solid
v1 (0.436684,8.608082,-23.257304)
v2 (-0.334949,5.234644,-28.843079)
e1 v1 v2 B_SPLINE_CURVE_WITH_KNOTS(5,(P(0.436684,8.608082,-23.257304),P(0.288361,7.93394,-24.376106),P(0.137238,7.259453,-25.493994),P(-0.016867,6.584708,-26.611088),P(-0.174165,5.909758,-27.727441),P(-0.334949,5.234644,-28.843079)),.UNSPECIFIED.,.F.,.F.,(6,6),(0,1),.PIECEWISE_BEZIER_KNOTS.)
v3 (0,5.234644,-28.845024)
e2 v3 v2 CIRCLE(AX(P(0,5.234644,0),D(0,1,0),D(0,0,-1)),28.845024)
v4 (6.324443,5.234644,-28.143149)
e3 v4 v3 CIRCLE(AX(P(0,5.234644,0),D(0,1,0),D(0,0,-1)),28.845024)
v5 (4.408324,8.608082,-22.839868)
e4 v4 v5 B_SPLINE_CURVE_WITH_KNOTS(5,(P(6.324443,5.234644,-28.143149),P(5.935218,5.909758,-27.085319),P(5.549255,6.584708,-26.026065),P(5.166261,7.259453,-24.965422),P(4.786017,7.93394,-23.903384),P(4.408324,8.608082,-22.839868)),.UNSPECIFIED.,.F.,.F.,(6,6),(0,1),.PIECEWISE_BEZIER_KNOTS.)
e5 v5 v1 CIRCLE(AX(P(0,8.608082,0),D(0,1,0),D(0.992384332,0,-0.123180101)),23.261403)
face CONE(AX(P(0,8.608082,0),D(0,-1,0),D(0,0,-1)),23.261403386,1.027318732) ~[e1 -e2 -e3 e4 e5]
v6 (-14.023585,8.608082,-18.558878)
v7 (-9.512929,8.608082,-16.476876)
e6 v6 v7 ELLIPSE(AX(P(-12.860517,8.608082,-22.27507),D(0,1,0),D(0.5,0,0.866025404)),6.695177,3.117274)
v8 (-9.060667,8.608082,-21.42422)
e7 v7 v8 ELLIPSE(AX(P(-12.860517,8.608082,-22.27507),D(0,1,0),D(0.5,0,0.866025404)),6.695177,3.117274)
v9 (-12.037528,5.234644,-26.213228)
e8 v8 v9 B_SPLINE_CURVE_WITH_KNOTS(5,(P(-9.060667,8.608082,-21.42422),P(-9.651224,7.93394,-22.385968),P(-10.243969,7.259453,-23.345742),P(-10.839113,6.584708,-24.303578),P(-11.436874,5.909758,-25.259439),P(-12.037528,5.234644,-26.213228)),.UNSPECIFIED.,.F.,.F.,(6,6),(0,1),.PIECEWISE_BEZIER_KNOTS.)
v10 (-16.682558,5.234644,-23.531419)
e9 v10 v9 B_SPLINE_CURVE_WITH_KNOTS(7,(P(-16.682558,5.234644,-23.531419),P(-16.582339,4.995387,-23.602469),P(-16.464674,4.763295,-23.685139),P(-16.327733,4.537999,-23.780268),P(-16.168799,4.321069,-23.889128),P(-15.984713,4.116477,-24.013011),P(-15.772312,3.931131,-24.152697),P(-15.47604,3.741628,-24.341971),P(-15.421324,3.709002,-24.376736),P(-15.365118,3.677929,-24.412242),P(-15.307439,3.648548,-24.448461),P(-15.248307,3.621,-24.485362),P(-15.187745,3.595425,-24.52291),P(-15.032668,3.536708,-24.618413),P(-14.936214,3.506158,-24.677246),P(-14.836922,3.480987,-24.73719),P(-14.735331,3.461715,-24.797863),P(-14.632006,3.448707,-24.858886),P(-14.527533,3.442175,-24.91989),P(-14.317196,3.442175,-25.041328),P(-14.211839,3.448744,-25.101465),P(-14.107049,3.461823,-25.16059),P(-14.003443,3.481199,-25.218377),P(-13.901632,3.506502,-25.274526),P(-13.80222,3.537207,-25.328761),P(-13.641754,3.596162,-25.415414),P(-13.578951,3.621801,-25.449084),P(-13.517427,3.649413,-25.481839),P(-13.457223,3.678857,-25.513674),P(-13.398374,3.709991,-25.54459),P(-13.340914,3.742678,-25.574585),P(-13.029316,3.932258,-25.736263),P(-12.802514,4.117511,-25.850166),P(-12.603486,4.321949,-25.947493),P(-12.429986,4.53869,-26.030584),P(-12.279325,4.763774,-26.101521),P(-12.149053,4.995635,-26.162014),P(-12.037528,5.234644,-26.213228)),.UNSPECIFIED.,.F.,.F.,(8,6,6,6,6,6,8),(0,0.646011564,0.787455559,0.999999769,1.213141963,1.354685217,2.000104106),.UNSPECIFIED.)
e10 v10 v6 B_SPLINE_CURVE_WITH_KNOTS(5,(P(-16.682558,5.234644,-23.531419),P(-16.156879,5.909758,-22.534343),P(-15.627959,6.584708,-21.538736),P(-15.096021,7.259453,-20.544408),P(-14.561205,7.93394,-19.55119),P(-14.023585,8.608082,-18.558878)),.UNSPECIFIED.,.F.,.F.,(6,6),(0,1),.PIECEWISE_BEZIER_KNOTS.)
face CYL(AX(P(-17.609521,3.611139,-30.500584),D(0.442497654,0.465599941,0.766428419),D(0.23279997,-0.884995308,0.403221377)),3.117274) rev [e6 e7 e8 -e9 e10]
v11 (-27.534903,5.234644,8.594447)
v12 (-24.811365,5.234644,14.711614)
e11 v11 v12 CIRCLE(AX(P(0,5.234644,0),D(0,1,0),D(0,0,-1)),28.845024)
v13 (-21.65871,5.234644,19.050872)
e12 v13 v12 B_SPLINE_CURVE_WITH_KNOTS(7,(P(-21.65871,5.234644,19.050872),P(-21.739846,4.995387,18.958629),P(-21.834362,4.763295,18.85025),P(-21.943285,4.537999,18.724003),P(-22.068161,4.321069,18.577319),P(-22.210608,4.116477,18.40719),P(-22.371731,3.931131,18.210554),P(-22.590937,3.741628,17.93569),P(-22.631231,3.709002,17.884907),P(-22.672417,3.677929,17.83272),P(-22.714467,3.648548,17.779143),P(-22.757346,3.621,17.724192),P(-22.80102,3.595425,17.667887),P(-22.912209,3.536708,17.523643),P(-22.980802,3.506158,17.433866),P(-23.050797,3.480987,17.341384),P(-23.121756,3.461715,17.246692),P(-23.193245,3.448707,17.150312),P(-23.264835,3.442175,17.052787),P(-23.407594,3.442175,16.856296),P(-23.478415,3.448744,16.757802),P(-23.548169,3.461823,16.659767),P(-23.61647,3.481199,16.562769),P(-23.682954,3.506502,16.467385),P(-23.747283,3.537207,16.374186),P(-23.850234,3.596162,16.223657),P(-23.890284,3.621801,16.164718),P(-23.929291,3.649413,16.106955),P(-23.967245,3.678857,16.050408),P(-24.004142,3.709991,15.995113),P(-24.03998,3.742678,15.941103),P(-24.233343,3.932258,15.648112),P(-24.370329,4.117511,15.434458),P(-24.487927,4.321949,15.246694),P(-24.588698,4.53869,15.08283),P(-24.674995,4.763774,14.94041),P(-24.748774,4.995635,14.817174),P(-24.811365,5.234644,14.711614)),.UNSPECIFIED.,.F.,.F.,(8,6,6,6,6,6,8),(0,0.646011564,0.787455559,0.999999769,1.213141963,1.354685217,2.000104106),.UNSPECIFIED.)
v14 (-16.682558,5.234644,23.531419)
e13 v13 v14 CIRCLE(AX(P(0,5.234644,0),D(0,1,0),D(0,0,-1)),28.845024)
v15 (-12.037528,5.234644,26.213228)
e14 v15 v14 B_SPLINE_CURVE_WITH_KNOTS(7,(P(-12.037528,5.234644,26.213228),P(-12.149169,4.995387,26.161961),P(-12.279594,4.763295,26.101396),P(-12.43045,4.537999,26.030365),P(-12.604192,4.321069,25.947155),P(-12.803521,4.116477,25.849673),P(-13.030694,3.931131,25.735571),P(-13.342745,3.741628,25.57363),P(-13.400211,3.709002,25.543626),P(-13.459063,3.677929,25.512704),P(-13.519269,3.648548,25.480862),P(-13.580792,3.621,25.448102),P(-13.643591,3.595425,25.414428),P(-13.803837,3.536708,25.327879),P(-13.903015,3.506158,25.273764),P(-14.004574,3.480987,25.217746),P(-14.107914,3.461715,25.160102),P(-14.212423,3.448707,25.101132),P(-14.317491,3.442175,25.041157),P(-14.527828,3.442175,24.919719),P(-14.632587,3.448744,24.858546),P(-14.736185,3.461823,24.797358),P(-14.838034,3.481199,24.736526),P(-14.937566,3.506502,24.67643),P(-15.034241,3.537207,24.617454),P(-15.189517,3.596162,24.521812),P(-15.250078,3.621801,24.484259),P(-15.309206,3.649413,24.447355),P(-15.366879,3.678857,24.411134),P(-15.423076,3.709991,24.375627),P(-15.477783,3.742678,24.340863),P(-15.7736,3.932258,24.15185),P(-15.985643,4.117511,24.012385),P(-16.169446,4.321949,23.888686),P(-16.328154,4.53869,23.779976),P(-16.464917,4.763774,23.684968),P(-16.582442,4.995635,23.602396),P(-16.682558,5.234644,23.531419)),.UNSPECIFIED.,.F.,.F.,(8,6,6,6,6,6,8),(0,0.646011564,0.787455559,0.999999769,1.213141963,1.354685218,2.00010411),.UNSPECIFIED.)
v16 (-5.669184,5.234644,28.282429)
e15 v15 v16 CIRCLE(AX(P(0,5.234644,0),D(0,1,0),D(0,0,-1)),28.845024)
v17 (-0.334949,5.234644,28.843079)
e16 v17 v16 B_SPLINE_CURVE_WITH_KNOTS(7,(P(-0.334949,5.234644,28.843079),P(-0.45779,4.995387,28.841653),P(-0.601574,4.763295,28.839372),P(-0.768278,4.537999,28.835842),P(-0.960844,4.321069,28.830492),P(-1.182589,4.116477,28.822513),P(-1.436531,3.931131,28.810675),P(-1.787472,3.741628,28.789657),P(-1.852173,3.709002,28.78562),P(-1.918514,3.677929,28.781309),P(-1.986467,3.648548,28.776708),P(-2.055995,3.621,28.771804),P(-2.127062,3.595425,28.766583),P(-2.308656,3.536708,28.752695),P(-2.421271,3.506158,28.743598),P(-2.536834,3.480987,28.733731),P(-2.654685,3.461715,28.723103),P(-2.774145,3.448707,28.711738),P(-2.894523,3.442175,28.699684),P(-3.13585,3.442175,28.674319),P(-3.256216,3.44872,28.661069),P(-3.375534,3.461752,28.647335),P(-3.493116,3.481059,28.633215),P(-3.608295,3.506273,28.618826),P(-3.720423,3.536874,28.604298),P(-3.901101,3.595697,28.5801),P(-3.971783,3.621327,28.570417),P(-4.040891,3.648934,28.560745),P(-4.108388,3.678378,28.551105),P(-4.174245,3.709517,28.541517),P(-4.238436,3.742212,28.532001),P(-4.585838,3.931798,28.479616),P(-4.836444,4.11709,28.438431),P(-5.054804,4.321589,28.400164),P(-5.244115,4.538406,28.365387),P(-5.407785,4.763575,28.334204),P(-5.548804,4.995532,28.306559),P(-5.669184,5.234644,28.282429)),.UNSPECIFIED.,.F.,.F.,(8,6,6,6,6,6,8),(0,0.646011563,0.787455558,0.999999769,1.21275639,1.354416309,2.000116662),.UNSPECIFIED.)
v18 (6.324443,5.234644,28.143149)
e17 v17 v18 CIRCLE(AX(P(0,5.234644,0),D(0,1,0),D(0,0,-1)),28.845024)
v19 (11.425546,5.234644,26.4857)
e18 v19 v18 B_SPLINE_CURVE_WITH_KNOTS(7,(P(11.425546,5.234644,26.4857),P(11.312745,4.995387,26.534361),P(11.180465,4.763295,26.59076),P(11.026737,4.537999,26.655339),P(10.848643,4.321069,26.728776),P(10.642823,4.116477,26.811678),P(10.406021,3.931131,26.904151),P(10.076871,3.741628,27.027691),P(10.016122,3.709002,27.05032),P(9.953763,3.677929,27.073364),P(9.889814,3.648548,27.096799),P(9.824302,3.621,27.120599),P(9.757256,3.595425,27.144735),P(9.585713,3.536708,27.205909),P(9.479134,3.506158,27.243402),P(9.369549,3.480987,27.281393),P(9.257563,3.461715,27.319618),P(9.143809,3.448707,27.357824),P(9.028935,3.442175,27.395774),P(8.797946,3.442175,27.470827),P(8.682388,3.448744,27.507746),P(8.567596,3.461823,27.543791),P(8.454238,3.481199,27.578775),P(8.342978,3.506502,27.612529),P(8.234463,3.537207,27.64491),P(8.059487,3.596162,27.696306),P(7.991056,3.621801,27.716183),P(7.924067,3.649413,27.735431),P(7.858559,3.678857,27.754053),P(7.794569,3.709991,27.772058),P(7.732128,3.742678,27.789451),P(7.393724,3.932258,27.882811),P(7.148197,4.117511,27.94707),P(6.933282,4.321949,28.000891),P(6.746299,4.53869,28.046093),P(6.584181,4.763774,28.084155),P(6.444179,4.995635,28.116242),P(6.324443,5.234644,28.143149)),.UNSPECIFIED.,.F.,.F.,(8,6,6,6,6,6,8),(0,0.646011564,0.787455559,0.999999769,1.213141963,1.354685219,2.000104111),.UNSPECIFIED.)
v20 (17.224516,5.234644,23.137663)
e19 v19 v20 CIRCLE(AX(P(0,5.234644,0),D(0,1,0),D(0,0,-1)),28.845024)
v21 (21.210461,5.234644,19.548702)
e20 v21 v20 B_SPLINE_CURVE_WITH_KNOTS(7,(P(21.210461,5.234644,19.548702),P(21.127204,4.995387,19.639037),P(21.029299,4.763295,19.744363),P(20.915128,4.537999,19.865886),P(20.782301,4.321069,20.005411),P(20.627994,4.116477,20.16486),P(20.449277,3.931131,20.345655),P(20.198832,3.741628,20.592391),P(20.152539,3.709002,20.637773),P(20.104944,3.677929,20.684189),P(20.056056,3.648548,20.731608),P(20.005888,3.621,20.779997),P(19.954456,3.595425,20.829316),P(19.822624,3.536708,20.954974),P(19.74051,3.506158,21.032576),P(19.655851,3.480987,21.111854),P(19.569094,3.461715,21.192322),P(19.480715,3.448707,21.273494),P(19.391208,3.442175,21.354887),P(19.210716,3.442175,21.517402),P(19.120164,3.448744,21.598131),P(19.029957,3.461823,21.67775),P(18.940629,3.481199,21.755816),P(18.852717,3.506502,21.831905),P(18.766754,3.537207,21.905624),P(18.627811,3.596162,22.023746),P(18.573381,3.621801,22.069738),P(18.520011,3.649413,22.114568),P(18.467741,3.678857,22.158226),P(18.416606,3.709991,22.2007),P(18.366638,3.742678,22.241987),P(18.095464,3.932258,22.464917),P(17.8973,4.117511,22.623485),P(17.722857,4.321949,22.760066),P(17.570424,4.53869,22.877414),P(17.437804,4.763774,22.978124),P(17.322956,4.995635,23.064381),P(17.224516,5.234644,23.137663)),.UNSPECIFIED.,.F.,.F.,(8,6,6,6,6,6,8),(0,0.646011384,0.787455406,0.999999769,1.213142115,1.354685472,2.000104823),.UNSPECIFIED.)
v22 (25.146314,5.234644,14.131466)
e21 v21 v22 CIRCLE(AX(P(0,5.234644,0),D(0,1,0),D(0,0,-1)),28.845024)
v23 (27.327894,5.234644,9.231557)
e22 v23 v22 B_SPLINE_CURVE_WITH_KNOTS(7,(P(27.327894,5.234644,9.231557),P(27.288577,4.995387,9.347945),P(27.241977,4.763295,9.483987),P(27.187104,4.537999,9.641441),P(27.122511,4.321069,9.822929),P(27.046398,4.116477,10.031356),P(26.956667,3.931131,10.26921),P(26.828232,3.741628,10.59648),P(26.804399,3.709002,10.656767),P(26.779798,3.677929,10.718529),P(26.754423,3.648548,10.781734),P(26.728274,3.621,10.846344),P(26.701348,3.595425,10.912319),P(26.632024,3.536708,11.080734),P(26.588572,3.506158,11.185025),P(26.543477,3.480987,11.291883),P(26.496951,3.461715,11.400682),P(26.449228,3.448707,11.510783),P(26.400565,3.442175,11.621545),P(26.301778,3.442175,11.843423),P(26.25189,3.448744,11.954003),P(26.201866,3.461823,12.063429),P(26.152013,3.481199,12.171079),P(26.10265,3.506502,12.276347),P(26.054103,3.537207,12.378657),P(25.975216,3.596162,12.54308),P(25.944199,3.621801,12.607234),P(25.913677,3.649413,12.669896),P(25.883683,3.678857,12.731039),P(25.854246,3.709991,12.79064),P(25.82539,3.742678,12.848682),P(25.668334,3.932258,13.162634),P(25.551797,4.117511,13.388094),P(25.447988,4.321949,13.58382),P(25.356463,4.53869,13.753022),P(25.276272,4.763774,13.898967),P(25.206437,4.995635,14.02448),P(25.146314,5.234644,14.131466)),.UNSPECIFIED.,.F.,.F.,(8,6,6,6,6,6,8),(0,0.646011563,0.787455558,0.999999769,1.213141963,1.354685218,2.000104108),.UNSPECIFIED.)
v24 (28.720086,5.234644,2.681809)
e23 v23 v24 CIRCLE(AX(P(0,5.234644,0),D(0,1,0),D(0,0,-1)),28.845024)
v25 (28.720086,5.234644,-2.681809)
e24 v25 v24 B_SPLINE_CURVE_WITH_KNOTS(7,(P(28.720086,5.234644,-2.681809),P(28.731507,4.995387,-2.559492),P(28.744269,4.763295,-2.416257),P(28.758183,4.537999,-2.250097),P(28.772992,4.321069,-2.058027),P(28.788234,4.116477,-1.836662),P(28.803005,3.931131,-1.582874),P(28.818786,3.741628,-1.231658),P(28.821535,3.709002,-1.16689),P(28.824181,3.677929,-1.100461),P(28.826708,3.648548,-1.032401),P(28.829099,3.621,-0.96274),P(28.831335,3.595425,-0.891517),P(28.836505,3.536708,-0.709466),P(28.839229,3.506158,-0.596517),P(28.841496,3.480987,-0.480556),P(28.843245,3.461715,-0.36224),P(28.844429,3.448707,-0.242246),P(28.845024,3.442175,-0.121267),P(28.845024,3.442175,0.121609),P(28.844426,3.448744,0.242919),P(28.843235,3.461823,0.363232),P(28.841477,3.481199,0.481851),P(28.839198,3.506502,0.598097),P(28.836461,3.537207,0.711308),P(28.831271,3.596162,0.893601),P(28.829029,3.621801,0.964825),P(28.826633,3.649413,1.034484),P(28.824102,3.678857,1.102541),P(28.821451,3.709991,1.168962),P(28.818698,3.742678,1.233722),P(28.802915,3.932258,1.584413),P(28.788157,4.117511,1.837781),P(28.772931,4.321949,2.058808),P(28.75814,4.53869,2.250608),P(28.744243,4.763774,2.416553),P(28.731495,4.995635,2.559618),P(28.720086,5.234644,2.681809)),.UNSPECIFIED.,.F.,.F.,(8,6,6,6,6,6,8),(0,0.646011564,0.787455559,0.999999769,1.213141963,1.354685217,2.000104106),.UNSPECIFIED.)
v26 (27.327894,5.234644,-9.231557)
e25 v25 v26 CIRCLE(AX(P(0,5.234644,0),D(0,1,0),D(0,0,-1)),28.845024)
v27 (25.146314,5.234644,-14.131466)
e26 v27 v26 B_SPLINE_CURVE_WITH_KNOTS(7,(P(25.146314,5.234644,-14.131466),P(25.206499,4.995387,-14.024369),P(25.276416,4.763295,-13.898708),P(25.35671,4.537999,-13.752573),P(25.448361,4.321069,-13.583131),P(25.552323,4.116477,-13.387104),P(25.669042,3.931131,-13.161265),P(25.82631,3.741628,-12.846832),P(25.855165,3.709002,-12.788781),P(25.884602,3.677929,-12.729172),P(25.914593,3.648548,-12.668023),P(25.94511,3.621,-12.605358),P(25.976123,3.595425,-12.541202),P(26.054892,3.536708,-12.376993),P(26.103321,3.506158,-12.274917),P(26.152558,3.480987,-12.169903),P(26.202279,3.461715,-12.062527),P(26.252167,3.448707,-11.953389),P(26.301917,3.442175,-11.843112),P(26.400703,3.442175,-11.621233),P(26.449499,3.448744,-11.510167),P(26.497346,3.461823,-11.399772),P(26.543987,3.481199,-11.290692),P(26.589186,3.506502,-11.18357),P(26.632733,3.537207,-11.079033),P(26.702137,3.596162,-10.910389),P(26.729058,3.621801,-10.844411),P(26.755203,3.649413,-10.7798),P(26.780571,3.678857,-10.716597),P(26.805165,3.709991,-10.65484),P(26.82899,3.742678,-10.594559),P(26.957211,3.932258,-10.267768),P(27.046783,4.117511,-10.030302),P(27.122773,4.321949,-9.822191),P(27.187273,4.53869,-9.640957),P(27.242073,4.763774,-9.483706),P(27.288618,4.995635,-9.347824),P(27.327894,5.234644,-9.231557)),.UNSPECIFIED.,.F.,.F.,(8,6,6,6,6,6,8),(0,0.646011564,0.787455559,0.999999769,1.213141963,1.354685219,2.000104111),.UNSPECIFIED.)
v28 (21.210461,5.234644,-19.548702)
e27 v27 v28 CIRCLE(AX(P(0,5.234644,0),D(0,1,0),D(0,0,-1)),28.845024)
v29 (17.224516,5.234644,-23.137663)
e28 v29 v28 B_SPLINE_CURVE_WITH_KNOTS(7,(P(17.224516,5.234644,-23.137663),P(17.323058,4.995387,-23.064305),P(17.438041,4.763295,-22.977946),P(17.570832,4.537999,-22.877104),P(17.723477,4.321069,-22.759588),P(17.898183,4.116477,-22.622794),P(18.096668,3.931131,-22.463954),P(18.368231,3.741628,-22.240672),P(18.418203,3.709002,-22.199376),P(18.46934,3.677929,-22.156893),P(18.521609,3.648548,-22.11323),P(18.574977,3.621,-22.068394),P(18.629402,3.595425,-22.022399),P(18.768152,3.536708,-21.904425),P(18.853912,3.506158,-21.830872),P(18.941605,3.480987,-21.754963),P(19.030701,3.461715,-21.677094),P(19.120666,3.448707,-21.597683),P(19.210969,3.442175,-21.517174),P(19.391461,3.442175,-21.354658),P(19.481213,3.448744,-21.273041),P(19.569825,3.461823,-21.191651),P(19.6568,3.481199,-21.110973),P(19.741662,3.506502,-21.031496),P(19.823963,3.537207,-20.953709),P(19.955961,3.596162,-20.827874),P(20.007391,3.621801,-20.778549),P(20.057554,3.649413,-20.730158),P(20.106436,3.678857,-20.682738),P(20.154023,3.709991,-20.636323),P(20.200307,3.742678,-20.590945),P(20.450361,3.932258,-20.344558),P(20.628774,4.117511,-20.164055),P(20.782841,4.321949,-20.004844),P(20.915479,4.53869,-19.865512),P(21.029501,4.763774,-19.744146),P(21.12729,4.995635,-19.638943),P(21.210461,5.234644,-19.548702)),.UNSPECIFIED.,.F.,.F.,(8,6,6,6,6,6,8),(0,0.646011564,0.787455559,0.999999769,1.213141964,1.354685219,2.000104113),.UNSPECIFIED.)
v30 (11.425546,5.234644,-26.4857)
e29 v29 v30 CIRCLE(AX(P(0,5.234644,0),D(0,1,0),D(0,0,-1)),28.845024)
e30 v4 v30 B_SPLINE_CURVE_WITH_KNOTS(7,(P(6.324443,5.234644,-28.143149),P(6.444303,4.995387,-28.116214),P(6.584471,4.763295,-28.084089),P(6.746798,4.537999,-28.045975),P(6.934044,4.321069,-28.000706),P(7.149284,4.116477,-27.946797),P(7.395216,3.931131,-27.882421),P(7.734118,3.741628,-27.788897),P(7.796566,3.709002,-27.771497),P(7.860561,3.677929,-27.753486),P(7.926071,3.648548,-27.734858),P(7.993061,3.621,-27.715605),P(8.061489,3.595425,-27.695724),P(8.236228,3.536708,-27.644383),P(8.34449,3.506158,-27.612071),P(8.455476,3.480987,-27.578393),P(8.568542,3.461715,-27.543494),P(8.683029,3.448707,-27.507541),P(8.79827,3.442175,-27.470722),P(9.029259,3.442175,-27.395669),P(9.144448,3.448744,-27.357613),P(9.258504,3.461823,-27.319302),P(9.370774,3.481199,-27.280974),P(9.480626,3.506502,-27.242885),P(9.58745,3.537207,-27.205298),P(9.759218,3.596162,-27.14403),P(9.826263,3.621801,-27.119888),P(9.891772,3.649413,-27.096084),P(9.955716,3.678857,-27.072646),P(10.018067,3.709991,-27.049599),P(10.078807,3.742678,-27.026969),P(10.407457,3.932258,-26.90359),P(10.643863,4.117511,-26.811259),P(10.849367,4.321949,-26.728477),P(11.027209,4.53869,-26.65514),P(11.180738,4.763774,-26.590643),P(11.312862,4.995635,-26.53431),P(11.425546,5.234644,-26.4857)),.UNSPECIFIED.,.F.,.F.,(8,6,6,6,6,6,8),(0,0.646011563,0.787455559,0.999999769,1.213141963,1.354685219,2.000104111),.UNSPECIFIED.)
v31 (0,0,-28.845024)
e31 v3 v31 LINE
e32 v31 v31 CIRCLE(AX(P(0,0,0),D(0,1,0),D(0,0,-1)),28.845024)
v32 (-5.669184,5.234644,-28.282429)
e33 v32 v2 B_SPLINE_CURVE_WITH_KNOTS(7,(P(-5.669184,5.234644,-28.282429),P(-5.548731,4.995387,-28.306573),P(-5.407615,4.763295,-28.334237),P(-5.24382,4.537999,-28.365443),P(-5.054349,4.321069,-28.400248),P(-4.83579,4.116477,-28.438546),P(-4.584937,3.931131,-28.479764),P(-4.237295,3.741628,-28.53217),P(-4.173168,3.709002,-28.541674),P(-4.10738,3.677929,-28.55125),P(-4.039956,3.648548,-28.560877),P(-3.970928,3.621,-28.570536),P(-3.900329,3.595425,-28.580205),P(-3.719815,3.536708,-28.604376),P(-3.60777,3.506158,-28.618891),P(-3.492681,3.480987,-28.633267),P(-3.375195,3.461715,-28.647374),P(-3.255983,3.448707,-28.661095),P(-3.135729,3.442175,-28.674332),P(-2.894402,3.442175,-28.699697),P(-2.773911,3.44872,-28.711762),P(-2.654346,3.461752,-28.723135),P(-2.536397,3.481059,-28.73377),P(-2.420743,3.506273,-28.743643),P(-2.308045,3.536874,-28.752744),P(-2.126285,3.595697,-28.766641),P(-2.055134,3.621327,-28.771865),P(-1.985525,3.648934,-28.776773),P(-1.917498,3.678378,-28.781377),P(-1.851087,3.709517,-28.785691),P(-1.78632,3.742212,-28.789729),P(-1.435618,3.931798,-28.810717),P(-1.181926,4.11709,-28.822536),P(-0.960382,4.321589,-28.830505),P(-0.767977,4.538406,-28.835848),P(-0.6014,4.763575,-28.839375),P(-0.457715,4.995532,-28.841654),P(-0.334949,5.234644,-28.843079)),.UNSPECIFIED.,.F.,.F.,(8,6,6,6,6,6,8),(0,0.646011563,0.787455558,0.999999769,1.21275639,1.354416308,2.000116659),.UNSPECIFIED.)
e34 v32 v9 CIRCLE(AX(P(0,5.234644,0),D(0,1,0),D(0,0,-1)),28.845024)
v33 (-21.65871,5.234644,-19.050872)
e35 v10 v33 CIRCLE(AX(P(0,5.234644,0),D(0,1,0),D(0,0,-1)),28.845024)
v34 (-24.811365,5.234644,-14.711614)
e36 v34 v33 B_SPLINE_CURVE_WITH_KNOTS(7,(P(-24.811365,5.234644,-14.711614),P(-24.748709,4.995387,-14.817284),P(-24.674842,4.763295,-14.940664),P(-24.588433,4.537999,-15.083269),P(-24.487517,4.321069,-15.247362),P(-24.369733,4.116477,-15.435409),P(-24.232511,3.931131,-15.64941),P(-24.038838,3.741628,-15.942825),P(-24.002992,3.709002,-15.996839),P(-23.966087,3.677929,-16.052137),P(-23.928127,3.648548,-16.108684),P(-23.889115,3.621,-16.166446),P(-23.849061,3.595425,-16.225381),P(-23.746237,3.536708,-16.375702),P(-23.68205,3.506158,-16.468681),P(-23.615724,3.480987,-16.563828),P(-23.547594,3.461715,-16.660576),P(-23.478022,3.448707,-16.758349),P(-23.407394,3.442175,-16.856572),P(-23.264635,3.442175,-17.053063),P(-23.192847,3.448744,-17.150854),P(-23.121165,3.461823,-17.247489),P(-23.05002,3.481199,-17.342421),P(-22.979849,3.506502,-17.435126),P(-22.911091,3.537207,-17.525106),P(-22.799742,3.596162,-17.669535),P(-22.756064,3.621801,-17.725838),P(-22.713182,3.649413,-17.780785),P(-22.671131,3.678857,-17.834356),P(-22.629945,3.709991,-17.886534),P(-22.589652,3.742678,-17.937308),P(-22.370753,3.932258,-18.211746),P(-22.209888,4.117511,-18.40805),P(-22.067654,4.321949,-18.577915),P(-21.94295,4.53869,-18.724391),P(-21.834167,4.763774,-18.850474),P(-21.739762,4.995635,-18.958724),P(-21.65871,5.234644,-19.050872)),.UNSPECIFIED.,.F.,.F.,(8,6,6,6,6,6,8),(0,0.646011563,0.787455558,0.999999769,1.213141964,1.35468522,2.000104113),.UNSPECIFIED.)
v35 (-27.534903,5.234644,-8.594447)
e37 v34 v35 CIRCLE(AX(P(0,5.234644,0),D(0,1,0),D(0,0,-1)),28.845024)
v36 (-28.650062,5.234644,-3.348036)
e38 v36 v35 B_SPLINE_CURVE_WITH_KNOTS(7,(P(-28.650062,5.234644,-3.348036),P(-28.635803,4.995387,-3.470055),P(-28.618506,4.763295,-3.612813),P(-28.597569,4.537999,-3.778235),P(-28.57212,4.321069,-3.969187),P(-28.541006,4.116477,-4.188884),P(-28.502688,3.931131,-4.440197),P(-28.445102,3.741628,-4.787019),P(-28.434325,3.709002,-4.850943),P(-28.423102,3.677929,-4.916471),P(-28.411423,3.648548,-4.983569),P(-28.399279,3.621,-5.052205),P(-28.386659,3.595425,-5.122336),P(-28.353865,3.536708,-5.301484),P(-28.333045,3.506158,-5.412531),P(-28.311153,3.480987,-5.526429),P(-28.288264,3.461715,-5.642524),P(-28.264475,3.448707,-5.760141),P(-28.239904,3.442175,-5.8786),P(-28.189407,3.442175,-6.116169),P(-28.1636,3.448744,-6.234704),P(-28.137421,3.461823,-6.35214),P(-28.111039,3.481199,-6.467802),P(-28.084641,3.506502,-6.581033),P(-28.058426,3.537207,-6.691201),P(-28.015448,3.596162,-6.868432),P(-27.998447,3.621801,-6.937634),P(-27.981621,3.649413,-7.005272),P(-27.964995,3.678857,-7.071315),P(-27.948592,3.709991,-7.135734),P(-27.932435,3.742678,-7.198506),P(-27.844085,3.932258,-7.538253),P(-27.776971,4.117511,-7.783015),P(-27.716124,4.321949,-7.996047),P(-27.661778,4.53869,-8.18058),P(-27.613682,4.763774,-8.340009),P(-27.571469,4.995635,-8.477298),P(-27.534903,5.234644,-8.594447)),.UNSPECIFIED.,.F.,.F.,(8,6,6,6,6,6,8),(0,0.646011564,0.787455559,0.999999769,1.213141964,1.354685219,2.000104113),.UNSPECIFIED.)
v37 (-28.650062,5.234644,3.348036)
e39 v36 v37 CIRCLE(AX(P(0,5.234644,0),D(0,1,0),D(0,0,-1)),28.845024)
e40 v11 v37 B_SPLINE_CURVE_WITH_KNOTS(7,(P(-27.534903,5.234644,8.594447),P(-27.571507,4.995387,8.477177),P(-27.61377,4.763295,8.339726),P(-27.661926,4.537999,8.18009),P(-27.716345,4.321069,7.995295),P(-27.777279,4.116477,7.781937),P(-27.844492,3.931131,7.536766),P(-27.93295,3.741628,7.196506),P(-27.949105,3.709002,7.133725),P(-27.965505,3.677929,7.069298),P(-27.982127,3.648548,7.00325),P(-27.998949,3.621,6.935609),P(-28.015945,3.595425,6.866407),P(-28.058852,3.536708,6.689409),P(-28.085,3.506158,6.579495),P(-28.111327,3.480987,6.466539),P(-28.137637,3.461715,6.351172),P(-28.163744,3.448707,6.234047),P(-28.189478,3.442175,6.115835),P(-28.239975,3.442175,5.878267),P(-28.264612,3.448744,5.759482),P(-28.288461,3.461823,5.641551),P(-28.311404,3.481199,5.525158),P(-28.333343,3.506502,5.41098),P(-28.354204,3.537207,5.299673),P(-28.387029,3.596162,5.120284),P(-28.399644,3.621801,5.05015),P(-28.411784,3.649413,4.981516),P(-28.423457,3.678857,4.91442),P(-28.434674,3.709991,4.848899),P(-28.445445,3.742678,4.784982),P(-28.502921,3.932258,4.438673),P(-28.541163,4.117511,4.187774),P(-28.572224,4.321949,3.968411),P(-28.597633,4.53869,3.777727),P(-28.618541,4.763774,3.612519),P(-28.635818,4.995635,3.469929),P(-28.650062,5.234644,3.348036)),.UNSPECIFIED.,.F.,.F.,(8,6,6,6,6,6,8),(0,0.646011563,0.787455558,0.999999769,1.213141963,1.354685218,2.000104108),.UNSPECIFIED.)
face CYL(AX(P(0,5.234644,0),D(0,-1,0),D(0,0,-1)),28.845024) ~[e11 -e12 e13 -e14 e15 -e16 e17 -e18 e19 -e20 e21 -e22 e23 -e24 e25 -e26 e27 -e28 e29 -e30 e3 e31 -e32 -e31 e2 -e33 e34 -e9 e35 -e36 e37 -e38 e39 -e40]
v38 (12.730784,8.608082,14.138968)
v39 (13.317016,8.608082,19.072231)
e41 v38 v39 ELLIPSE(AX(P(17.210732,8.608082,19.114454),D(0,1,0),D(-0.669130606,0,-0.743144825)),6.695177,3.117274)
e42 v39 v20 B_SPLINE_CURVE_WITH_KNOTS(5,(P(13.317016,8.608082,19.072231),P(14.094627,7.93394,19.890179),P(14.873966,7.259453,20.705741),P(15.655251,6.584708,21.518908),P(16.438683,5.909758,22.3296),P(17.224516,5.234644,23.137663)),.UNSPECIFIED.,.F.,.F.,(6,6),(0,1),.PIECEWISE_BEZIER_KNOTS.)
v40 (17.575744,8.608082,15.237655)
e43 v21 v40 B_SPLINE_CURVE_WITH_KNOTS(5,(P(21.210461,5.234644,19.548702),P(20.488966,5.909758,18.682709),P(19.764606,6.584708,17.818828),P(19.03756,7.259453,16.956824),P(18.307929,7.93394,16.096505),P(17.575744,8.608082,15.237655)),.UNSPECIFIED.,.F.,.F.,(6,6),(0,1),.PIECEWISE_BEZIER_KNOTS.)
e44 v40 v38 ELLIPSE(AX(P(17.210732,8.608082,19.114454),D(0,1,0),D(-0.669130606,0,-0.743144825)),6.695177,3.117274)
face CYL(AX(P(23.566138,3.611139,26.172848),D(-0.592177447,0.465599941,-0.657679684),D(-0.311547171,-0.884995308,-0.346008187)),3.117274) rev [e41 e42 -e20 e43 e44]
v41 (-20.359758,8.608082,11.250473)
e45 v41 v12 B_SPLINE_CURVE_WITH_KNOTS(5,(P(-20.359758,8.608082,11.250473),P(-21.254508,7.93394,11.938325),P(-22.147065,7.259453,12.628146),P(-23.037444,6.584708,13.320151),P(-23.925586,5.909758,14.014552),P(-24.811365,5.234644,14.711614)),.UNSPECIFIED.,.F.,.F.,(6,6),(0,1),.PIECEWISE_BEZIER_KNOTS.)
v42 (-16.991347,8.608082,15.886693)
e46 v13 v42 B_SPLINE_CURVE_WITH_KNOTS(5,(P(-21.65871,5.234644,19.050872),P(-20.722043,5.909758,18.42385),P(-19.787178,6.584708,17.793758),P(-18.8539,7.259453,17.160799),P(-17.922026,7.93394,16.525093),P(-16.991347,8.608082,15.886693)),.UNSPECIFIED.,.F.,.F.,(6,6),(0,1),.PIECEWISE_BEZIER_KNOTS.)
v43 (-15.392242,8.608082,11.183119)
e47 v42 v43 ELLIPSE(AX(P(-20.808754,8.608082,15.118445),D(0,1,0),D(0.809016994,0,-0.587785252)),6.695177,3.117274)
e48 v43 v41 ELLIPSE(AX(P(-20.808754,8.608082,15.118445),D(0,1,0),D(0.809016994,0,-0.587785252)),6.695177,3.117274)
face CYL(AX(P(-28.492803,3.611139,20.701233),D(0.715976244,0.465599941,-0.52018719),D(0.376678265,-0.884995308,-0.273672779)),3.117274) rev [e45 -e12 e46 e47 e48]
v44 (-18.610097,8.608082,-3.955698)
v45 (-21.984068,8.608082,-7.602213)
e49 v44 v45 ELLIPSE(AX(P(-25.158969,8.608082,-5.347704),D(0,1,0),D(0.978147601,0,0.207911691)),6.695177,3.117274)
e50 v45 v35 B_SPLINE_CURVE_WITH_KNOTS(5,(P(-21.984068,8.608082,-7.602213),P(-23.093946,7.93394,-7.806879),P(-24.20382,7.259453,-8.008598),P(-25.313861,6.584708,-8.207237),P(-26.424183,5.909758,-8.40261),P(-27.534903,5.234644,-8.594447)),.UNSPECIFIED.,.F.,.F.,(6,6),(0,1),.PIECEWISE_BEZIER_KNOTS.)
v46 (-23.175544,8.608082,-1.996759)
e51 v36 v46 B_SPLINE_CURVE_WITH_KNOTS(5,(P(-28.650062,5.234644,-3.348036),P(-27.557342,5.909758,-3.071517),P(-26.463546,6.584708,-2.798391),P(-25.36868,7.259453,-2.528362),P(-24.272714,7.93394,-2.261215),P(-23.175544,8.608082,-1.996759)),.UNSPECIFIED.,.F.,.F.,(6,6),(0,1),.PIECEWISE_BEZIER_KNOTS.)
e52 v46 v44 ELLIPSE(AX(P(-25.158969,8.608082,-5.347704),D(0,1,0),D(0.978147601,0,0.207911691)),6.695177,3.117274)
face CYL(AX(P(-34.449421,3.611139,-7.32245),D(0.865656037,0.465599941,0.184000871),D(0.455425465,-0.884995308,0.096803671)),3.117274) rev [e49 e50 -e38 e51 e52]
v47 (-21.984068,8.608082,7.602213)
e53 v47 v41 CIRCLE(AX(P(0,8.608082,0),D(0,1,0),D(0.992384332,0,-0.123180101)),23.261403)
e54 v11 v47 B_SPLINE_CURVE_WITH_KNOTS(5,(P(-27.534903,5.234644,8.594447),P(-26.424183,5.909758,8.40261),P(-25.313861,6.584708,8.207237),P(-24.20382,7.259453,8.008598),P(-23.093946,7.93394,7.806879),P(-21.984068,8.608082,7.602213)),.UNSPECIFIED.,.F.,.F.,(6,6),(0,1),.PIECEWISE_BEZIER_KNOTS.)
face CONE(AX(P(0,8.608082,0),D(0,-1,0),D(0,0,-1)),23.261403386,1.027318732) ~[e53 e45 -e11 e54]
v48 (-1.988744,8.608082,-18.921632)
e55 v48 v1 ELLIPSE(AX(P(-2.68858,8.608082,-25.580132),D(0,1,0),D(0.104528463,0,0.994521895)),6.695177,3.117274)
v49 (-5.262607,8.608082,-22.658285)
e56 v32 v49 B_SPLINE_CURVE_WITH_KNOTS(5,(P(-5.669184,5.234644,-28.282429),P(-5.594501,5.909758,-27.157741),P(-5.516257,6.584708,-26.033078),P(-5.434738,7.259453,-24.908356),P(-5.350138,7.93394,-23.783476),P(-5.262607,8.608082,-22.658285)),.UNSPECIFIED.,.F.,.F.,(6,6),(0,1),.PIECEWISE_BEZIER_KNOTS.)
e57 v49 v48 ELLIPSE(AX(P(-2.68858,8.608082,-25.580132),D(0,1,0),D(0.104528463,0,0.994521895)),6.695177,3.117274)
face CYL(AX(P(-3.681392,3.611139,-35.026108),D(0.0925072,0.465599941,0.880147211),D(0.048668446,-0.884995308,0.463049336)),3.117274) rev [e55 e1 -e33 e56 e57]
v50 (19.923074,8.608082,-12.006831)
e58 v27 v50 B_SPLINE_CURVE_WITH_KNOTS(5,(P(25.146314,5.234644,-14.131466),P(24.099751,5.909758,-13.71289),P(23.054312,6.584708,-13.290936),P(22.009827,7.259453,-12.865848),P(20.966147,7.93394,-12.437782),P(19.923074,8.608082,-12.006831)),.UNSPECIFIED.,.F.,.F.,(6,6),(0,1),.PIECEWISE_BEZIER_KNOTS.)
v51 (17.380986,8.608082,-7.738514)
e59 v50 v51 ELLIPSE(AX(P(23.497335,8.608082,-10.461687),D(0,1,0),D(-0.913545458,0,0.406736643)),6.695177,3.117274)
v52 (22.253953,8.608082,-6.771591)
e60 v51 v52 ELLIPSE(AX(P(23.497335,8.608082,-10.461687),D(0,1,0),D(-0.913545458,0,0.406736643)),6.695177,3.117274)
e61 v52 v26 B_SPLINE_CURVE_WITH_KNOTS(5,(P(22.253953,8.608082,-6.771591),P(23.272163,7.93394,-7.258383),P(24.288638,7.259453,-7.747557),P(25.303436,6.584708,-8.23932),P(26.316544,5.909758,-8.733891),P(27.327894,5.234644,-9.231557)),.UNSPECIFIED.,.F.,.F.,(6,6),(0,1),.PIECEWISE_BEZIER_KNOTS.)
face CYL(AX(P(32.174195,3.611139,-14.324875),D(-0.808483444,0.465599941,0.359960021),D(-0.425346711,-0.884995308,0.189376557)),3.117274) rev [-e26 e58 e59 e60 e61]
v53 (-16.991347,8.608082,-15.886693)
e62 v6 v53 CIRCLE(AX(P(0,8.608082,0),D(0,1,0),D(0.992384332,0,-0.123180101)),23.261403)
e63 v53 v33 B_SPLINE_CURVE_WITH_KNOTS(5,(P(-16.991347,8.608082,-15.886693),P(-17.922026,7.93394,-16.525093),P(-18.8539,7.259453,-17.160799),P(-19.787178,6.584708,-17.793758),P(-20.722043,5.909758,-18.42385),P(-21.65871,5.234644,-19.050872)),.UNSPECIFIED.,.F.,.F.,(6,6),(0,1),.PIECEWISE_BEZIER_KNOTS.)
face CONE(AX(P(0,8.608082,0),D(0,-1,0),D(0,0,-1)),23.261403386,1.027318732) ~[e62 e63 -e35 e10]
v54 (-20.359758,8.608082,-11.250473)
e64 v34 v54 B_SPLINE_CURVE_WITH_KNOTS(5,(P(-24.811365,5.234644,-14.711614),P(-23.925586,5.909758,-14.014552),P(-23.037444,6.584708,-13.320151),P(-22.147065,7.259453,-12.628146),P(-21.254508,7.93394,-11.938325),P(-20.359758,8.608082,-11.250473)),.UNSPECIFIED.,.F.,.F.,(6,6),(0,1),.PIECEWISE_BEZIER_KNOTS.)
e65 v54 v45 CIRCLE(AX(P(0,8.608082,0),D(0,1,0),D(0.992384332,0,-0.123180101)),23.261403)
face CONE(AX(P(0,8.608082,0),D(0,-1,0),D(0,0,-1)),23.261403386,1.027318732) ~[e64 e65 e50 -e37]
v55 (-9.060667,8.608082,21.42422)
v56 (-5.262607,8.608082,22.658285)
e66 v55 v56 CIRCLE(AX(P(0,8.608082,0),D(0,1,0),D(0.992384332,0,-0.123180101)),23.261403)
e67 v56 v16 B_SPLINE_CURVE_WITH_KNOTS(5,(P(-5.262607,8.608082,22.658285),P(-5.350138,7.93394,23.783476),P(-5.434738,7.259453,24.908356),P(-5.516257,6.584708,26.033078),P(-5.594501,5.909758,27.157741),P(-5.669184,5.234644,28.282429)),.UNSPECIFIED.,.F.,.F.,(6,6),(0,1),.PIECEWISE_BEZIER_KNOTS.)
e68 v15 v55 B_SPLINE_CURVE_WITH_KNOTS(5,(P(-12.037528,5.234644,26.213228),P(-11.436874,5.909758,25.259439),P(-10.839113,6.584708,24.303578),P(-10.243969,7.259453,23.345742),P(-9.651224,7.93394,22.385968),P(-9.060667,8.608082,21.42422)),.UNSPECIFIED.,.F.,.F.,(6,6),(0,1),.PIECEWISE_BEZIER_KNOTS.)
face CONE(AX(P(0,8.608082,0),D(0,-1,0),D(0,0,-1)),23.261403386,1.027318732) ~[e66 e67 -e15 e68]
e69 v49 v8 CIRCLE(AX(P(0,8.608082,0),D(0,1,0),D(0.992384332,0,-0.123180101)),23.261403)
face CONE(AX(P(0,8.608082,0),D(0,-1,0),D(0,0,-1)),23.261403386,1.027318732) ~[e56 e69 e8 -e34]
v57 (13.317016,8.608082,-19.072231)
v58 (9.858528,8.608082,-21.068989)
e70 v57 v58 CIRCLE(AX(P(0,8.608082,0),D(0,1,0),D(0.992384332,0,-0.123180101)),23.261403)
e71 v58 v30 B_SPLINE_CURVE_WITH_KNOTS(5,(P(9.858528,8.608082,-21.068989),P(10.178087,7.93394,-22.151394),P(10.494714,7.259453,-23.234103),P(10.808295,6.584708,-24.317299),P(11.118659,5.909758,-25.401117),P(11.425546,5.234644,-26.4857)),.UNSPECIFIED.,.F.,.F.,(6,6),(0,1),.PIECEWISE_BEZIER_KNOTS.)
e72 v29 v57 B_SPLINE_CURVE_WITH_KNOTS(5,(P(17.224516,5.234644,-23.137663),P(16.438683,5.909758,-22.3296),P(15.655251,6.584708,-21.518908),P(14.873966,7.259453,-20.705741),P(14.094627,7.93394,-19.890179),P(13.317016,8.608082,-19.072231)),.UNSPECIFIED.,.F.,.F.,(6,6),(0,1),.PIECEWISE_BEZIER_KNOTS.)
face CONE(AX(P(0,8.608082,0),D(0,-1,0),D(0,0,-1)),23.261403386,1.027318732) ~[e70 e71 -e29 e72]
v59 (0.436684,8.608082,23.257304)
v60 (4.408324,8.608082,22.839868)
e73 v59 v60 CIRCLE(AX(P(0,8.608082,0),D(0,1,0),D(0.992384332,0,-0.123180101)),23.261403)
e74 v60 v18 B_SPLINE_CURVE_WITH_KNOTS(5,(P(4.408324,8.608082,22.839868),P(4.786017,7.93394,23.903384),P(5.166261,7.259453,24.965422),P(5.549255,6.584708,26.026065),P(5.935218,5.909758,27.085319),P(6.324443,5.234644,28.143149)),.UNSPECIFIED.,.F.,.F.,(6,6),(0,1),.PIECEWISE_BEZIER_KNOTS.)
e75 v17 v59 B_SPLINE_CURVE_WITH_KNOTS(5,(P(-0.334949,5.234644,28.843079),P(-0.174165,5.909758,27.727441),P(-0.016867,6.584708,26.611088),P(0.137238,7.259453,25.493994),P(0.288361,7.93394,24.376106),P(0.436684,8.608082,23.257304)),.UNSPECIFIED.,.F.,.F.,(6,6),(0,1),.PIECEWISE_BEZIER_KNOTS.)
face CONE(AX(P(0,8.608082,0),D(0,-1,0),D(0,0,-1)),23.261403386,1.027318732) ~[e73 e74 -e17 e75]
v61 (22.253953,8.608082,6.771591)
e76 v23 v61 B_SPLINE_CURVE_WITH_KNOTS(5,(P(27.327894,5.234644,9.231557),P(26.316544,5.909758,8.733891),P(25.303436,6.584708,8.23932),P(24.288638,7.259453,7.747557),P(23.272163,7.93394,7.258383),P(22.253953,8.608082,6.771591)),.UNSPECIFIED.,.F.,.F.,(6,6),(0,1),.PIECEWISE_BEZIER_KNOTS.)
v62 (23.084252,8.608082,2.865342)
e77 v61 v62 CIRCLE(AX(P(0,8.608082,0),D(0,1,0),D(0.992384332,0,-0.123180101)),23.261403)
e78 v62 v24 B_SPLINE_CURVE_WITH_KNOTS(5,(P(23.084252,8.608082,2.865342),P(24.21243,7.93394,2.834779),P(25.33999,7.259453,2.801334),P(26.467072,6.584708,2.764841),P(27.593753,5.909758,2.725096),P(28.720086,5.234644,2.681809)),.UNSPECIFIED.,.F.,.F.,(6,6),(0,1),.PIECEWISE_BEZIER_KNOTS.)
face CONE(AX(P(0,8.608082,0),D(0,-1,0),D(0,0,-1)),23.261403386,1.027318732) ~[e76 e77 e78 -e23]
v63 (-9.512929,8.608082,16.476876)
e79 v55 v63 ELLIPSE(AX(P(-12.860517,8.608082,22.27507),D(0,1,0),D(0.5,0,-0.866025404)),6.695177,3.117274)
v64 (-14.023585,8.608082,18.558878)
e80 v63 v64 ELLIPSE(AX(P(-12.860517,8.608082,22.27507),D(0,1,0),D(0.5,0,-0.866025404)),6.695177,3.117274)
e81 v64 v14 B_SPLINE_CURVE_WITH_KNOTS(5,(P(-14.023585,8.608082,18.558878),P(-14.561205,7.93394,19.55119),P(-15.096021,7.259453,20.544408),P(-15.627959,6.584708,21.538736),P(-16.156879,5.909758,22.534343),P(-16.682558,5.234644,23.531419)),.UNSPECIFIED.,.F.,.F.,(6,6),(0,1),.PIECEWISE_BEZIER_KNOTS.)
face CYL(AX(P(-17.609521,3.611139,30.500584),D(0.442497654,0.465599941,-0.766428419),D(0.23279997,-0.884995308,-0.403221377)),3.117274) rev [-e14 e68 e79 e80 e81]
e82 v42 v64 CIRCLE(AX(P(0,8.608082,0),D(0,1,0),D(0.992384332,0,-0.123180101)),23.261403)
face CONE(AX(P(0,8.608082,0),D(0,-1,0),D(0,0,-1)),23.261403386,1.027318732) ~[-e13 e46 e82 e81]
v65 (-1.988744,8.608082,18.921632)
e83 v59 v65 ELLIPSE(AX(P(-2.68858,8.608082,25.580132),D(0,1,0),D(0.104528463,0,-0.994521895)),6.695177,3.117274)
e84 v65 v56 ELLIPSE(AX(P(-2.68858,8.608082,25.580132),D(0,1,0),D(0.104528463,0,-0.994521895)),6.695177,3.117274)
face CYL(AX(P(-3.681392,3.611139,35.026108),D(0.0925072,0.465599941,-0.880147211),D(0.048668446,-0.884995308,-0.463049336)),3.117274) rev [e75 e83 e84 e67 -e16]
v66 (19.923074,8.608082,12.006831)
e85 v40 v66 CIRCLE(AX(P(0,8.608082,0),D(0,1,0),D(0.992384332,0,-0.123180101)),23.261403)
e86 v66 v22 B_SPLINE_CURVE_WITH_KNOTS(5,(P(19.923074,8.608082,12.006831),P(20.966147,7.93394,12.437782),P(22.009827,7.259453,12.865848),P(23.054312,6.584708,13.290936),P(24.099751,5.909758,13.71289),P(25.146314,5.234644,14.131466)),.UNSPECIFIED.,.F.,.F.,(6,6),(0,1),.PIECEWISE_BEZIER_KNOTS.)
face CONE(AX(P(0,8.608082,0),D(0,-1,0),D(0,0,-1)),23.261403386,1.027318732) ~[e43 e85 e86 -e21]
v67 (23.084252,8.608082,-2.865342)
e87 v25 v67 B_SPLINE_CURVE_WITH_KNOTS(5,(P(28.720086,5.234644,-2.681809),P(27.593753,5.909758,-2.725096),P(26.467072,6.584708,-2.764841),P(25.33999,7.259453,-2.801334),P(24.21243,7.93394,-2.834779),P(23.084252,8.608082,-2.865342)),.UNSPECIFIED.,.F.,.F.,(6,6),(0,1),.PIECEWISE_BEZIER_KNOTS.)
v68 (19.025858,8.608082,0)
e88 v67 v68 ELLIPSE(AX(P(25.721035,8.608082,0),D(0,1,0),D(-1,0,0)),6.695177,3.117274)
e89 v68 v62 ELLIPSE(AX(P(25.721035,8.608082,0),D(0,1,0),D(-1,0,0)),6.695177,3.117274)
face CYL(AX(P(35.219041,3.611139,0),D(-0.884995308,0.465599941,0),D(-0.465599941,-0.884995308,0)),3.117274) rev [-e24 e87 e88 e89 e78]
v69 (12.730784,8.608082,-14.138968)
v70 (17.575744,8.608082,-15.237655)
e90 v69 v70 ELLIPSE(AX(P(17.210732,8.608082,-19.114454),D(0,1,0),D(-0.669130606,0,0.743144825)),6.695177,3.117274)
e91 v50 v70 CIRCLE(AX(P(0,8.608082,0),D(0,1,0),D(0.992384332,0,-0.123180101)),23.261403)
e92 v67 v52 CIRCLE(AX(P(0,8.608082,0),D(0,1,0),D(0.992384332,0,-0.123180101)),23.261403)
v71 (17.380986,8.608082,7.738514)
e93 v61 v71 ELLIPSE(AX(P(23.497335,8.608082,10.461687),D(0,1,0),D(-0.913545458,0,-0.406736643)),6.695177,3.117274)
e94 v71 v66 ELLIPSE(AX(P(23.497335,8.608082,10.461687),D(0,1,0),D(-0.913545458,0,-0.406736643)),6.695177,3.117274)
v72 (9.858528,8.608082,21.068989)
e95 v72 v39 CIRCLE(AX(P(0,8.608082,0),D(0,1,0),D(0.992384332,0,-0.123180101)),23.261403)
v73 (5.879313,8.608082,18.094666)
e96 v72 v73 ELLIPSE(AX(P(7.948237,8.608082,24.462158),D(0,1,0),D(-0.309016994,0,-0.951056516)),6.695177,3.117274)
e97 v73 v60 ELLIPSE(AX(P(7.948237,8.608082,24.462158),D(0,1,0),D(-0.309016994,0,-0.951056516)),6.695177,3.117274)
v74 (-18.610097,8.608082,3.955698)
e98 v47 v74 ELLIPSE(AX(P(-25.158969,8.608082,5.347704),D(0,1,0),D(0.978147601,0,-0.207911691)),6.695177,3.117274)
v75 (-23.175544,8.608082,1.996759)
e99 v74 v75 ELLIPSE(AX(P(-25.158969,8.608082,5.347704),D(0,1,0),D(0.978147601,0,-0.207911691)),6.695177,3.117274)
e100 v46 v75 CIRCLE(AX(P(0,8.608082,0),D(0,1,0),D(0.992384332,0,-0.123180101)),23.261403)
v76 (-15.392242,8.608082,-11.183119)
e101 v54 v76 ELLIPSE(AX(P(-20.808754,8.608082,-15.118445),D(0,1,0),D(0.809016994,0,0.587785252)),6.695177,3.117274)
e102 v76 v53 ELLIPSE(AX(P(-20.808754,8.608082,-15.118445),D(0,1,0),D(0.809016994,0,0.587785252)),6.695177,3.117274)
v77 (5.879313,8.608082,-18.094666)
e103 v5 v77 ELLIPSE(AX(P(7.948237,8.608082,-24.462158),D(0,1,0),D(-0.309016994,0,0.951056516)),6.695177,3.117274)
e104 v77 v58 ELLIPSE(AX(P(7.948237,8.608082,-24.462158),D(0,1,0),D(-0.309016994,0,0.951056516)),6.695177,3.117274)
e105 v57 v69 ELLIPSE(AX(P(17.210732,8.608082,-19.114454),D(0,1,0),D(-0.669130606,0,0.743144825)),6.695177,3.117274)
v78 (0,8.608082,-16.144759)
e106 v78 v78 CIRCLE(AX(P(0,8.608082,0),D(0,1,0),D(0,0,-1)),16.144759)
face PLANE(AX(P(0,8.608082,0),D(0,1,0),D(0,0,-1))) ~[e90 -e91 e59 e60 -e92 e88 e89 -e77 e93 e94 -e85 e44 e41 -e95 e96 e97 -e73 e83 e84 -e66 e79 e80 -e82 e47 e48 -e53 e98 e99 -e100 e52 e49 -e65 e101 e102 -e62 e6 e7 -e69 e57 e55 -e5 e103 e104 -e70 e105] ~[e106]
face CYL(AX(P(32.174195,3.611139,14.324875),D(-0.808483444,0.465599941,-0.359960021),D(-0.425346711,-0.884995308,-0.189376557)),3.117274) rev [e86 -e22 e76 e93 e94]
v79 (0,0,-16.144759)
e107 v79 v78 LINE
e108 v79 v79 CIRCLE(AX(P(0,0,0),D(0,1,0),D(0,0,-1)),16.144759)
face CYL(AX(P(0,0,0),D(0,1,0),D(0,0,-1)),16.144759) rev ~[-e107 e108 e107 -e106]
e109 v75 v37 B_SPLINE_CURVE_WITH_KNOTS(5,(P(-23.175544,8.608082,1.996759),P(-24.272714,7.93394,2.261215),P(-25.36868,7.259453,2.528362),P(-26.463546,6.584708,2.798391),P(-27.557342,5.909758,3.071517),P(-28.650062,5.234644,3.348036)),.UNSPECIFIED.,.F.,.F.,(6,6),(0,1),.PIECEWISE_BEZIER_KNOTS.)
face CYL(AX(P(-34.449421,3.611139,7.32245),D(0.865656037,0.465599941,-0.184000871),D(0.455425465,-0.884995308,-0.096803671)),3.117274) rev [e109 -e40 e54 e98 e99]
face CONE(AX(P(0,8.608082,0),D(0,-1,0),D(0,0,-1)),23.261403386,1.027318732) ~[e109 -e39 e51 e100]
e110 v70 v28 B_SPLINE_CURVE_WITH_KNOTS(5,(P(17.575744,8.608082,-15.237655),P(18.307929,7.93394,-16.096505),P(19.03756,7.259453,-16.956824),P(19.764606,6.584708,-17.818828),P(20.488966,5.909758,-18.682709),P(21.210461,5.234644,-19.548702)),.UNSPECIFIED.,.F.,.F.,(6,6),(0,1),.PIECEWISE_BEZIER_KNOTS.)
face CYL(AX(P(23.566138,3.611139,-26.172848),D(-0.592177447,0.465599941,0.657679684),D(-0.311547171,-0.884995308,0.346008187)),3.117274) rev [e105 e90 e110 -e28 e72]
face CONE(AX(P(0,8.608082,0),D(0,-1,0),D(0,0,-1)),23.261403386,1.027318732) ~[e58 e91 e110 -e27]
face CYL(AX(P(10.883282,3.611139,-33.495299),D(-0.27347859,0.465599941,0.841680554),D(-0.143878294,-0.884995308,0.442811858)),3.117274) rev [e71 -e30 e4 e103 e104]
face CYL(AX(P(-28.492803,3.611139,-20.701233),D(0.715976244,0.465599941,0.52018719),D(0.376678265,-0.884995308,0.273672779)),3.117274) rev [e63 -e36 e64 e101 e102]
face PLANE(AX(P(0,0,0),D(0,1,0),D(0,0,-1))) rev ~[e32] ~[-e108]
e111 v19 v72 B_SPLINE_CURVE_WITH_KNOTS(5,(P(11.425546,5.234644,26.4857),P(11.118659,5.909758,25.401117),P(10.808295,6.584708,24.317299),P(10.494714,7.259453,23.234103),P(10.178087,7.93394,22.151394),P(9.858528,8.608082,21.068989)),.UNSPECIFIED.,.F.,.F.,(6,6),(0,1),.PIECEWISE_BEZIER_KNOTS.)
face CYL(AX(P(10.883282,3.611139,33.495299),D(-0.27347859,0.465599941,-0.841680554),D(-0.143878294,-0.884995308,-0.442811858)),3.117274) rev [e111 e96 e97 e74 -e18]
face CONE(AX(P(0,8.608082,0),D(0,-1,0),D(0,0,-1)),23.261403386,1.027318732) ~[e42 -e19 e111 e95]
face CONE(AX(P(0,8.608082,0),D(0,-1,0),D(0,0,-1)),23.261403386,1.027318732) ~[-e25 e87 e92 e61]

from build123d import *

# Parameters (mm, degrees)
KREISMUSTER1_COUNT = 15


with BuildPart() as part:
    # Skizze1 → Rotation1 (revolve)
    with BuildSketch(Plane.XY, mode=Mode.PRIVATE) as rotation1_sk:
        Polygon((16.14475863, 0), (16.14475863, 8.608081897), (23.261403386, 8.608081897), (28.845024076, 5.234644397), (28.845024076, 0), align=None)
    revolve(rotation1_sk.sketch.rotate(Axis((0, 0, 0), (0, 1, 0)), 90), axis=Axis((0, 0, 0), (0, 1, 0)))  # turned: the seam where the file's is

    # Skizze2 → Schnitt-Rotation1 (revolve, cut)
    with BuildSketch(Plane.XY):
        Polygon((18.433980943, 12.441833146), (35.219041201, 3.611138793), (33.767638602, 0.852365915), (16.982578344, 9.683060267), align=None)
    schnitt_rotation1 = revolve(axis=Axis((14.262929412, 14.636241782, 0), (0.884995308, -0.465599941, 0)), mode=Mode.SUBTRACT)

    # Kreismuster1: Schnitt-Rotation1 ×15 about axis
    kreismuster1_axis = Axis((0, 0, 0), (0, -1, 0))
    for i in range(1, KREISMUSTER1_COUNT):
        add(schnitt_rotation1.rotate(kreismuster1_axis, i * 360 / KREISMUSTER1_COUNT), mode=Mode.SUBTRACT)


solid = part.part
